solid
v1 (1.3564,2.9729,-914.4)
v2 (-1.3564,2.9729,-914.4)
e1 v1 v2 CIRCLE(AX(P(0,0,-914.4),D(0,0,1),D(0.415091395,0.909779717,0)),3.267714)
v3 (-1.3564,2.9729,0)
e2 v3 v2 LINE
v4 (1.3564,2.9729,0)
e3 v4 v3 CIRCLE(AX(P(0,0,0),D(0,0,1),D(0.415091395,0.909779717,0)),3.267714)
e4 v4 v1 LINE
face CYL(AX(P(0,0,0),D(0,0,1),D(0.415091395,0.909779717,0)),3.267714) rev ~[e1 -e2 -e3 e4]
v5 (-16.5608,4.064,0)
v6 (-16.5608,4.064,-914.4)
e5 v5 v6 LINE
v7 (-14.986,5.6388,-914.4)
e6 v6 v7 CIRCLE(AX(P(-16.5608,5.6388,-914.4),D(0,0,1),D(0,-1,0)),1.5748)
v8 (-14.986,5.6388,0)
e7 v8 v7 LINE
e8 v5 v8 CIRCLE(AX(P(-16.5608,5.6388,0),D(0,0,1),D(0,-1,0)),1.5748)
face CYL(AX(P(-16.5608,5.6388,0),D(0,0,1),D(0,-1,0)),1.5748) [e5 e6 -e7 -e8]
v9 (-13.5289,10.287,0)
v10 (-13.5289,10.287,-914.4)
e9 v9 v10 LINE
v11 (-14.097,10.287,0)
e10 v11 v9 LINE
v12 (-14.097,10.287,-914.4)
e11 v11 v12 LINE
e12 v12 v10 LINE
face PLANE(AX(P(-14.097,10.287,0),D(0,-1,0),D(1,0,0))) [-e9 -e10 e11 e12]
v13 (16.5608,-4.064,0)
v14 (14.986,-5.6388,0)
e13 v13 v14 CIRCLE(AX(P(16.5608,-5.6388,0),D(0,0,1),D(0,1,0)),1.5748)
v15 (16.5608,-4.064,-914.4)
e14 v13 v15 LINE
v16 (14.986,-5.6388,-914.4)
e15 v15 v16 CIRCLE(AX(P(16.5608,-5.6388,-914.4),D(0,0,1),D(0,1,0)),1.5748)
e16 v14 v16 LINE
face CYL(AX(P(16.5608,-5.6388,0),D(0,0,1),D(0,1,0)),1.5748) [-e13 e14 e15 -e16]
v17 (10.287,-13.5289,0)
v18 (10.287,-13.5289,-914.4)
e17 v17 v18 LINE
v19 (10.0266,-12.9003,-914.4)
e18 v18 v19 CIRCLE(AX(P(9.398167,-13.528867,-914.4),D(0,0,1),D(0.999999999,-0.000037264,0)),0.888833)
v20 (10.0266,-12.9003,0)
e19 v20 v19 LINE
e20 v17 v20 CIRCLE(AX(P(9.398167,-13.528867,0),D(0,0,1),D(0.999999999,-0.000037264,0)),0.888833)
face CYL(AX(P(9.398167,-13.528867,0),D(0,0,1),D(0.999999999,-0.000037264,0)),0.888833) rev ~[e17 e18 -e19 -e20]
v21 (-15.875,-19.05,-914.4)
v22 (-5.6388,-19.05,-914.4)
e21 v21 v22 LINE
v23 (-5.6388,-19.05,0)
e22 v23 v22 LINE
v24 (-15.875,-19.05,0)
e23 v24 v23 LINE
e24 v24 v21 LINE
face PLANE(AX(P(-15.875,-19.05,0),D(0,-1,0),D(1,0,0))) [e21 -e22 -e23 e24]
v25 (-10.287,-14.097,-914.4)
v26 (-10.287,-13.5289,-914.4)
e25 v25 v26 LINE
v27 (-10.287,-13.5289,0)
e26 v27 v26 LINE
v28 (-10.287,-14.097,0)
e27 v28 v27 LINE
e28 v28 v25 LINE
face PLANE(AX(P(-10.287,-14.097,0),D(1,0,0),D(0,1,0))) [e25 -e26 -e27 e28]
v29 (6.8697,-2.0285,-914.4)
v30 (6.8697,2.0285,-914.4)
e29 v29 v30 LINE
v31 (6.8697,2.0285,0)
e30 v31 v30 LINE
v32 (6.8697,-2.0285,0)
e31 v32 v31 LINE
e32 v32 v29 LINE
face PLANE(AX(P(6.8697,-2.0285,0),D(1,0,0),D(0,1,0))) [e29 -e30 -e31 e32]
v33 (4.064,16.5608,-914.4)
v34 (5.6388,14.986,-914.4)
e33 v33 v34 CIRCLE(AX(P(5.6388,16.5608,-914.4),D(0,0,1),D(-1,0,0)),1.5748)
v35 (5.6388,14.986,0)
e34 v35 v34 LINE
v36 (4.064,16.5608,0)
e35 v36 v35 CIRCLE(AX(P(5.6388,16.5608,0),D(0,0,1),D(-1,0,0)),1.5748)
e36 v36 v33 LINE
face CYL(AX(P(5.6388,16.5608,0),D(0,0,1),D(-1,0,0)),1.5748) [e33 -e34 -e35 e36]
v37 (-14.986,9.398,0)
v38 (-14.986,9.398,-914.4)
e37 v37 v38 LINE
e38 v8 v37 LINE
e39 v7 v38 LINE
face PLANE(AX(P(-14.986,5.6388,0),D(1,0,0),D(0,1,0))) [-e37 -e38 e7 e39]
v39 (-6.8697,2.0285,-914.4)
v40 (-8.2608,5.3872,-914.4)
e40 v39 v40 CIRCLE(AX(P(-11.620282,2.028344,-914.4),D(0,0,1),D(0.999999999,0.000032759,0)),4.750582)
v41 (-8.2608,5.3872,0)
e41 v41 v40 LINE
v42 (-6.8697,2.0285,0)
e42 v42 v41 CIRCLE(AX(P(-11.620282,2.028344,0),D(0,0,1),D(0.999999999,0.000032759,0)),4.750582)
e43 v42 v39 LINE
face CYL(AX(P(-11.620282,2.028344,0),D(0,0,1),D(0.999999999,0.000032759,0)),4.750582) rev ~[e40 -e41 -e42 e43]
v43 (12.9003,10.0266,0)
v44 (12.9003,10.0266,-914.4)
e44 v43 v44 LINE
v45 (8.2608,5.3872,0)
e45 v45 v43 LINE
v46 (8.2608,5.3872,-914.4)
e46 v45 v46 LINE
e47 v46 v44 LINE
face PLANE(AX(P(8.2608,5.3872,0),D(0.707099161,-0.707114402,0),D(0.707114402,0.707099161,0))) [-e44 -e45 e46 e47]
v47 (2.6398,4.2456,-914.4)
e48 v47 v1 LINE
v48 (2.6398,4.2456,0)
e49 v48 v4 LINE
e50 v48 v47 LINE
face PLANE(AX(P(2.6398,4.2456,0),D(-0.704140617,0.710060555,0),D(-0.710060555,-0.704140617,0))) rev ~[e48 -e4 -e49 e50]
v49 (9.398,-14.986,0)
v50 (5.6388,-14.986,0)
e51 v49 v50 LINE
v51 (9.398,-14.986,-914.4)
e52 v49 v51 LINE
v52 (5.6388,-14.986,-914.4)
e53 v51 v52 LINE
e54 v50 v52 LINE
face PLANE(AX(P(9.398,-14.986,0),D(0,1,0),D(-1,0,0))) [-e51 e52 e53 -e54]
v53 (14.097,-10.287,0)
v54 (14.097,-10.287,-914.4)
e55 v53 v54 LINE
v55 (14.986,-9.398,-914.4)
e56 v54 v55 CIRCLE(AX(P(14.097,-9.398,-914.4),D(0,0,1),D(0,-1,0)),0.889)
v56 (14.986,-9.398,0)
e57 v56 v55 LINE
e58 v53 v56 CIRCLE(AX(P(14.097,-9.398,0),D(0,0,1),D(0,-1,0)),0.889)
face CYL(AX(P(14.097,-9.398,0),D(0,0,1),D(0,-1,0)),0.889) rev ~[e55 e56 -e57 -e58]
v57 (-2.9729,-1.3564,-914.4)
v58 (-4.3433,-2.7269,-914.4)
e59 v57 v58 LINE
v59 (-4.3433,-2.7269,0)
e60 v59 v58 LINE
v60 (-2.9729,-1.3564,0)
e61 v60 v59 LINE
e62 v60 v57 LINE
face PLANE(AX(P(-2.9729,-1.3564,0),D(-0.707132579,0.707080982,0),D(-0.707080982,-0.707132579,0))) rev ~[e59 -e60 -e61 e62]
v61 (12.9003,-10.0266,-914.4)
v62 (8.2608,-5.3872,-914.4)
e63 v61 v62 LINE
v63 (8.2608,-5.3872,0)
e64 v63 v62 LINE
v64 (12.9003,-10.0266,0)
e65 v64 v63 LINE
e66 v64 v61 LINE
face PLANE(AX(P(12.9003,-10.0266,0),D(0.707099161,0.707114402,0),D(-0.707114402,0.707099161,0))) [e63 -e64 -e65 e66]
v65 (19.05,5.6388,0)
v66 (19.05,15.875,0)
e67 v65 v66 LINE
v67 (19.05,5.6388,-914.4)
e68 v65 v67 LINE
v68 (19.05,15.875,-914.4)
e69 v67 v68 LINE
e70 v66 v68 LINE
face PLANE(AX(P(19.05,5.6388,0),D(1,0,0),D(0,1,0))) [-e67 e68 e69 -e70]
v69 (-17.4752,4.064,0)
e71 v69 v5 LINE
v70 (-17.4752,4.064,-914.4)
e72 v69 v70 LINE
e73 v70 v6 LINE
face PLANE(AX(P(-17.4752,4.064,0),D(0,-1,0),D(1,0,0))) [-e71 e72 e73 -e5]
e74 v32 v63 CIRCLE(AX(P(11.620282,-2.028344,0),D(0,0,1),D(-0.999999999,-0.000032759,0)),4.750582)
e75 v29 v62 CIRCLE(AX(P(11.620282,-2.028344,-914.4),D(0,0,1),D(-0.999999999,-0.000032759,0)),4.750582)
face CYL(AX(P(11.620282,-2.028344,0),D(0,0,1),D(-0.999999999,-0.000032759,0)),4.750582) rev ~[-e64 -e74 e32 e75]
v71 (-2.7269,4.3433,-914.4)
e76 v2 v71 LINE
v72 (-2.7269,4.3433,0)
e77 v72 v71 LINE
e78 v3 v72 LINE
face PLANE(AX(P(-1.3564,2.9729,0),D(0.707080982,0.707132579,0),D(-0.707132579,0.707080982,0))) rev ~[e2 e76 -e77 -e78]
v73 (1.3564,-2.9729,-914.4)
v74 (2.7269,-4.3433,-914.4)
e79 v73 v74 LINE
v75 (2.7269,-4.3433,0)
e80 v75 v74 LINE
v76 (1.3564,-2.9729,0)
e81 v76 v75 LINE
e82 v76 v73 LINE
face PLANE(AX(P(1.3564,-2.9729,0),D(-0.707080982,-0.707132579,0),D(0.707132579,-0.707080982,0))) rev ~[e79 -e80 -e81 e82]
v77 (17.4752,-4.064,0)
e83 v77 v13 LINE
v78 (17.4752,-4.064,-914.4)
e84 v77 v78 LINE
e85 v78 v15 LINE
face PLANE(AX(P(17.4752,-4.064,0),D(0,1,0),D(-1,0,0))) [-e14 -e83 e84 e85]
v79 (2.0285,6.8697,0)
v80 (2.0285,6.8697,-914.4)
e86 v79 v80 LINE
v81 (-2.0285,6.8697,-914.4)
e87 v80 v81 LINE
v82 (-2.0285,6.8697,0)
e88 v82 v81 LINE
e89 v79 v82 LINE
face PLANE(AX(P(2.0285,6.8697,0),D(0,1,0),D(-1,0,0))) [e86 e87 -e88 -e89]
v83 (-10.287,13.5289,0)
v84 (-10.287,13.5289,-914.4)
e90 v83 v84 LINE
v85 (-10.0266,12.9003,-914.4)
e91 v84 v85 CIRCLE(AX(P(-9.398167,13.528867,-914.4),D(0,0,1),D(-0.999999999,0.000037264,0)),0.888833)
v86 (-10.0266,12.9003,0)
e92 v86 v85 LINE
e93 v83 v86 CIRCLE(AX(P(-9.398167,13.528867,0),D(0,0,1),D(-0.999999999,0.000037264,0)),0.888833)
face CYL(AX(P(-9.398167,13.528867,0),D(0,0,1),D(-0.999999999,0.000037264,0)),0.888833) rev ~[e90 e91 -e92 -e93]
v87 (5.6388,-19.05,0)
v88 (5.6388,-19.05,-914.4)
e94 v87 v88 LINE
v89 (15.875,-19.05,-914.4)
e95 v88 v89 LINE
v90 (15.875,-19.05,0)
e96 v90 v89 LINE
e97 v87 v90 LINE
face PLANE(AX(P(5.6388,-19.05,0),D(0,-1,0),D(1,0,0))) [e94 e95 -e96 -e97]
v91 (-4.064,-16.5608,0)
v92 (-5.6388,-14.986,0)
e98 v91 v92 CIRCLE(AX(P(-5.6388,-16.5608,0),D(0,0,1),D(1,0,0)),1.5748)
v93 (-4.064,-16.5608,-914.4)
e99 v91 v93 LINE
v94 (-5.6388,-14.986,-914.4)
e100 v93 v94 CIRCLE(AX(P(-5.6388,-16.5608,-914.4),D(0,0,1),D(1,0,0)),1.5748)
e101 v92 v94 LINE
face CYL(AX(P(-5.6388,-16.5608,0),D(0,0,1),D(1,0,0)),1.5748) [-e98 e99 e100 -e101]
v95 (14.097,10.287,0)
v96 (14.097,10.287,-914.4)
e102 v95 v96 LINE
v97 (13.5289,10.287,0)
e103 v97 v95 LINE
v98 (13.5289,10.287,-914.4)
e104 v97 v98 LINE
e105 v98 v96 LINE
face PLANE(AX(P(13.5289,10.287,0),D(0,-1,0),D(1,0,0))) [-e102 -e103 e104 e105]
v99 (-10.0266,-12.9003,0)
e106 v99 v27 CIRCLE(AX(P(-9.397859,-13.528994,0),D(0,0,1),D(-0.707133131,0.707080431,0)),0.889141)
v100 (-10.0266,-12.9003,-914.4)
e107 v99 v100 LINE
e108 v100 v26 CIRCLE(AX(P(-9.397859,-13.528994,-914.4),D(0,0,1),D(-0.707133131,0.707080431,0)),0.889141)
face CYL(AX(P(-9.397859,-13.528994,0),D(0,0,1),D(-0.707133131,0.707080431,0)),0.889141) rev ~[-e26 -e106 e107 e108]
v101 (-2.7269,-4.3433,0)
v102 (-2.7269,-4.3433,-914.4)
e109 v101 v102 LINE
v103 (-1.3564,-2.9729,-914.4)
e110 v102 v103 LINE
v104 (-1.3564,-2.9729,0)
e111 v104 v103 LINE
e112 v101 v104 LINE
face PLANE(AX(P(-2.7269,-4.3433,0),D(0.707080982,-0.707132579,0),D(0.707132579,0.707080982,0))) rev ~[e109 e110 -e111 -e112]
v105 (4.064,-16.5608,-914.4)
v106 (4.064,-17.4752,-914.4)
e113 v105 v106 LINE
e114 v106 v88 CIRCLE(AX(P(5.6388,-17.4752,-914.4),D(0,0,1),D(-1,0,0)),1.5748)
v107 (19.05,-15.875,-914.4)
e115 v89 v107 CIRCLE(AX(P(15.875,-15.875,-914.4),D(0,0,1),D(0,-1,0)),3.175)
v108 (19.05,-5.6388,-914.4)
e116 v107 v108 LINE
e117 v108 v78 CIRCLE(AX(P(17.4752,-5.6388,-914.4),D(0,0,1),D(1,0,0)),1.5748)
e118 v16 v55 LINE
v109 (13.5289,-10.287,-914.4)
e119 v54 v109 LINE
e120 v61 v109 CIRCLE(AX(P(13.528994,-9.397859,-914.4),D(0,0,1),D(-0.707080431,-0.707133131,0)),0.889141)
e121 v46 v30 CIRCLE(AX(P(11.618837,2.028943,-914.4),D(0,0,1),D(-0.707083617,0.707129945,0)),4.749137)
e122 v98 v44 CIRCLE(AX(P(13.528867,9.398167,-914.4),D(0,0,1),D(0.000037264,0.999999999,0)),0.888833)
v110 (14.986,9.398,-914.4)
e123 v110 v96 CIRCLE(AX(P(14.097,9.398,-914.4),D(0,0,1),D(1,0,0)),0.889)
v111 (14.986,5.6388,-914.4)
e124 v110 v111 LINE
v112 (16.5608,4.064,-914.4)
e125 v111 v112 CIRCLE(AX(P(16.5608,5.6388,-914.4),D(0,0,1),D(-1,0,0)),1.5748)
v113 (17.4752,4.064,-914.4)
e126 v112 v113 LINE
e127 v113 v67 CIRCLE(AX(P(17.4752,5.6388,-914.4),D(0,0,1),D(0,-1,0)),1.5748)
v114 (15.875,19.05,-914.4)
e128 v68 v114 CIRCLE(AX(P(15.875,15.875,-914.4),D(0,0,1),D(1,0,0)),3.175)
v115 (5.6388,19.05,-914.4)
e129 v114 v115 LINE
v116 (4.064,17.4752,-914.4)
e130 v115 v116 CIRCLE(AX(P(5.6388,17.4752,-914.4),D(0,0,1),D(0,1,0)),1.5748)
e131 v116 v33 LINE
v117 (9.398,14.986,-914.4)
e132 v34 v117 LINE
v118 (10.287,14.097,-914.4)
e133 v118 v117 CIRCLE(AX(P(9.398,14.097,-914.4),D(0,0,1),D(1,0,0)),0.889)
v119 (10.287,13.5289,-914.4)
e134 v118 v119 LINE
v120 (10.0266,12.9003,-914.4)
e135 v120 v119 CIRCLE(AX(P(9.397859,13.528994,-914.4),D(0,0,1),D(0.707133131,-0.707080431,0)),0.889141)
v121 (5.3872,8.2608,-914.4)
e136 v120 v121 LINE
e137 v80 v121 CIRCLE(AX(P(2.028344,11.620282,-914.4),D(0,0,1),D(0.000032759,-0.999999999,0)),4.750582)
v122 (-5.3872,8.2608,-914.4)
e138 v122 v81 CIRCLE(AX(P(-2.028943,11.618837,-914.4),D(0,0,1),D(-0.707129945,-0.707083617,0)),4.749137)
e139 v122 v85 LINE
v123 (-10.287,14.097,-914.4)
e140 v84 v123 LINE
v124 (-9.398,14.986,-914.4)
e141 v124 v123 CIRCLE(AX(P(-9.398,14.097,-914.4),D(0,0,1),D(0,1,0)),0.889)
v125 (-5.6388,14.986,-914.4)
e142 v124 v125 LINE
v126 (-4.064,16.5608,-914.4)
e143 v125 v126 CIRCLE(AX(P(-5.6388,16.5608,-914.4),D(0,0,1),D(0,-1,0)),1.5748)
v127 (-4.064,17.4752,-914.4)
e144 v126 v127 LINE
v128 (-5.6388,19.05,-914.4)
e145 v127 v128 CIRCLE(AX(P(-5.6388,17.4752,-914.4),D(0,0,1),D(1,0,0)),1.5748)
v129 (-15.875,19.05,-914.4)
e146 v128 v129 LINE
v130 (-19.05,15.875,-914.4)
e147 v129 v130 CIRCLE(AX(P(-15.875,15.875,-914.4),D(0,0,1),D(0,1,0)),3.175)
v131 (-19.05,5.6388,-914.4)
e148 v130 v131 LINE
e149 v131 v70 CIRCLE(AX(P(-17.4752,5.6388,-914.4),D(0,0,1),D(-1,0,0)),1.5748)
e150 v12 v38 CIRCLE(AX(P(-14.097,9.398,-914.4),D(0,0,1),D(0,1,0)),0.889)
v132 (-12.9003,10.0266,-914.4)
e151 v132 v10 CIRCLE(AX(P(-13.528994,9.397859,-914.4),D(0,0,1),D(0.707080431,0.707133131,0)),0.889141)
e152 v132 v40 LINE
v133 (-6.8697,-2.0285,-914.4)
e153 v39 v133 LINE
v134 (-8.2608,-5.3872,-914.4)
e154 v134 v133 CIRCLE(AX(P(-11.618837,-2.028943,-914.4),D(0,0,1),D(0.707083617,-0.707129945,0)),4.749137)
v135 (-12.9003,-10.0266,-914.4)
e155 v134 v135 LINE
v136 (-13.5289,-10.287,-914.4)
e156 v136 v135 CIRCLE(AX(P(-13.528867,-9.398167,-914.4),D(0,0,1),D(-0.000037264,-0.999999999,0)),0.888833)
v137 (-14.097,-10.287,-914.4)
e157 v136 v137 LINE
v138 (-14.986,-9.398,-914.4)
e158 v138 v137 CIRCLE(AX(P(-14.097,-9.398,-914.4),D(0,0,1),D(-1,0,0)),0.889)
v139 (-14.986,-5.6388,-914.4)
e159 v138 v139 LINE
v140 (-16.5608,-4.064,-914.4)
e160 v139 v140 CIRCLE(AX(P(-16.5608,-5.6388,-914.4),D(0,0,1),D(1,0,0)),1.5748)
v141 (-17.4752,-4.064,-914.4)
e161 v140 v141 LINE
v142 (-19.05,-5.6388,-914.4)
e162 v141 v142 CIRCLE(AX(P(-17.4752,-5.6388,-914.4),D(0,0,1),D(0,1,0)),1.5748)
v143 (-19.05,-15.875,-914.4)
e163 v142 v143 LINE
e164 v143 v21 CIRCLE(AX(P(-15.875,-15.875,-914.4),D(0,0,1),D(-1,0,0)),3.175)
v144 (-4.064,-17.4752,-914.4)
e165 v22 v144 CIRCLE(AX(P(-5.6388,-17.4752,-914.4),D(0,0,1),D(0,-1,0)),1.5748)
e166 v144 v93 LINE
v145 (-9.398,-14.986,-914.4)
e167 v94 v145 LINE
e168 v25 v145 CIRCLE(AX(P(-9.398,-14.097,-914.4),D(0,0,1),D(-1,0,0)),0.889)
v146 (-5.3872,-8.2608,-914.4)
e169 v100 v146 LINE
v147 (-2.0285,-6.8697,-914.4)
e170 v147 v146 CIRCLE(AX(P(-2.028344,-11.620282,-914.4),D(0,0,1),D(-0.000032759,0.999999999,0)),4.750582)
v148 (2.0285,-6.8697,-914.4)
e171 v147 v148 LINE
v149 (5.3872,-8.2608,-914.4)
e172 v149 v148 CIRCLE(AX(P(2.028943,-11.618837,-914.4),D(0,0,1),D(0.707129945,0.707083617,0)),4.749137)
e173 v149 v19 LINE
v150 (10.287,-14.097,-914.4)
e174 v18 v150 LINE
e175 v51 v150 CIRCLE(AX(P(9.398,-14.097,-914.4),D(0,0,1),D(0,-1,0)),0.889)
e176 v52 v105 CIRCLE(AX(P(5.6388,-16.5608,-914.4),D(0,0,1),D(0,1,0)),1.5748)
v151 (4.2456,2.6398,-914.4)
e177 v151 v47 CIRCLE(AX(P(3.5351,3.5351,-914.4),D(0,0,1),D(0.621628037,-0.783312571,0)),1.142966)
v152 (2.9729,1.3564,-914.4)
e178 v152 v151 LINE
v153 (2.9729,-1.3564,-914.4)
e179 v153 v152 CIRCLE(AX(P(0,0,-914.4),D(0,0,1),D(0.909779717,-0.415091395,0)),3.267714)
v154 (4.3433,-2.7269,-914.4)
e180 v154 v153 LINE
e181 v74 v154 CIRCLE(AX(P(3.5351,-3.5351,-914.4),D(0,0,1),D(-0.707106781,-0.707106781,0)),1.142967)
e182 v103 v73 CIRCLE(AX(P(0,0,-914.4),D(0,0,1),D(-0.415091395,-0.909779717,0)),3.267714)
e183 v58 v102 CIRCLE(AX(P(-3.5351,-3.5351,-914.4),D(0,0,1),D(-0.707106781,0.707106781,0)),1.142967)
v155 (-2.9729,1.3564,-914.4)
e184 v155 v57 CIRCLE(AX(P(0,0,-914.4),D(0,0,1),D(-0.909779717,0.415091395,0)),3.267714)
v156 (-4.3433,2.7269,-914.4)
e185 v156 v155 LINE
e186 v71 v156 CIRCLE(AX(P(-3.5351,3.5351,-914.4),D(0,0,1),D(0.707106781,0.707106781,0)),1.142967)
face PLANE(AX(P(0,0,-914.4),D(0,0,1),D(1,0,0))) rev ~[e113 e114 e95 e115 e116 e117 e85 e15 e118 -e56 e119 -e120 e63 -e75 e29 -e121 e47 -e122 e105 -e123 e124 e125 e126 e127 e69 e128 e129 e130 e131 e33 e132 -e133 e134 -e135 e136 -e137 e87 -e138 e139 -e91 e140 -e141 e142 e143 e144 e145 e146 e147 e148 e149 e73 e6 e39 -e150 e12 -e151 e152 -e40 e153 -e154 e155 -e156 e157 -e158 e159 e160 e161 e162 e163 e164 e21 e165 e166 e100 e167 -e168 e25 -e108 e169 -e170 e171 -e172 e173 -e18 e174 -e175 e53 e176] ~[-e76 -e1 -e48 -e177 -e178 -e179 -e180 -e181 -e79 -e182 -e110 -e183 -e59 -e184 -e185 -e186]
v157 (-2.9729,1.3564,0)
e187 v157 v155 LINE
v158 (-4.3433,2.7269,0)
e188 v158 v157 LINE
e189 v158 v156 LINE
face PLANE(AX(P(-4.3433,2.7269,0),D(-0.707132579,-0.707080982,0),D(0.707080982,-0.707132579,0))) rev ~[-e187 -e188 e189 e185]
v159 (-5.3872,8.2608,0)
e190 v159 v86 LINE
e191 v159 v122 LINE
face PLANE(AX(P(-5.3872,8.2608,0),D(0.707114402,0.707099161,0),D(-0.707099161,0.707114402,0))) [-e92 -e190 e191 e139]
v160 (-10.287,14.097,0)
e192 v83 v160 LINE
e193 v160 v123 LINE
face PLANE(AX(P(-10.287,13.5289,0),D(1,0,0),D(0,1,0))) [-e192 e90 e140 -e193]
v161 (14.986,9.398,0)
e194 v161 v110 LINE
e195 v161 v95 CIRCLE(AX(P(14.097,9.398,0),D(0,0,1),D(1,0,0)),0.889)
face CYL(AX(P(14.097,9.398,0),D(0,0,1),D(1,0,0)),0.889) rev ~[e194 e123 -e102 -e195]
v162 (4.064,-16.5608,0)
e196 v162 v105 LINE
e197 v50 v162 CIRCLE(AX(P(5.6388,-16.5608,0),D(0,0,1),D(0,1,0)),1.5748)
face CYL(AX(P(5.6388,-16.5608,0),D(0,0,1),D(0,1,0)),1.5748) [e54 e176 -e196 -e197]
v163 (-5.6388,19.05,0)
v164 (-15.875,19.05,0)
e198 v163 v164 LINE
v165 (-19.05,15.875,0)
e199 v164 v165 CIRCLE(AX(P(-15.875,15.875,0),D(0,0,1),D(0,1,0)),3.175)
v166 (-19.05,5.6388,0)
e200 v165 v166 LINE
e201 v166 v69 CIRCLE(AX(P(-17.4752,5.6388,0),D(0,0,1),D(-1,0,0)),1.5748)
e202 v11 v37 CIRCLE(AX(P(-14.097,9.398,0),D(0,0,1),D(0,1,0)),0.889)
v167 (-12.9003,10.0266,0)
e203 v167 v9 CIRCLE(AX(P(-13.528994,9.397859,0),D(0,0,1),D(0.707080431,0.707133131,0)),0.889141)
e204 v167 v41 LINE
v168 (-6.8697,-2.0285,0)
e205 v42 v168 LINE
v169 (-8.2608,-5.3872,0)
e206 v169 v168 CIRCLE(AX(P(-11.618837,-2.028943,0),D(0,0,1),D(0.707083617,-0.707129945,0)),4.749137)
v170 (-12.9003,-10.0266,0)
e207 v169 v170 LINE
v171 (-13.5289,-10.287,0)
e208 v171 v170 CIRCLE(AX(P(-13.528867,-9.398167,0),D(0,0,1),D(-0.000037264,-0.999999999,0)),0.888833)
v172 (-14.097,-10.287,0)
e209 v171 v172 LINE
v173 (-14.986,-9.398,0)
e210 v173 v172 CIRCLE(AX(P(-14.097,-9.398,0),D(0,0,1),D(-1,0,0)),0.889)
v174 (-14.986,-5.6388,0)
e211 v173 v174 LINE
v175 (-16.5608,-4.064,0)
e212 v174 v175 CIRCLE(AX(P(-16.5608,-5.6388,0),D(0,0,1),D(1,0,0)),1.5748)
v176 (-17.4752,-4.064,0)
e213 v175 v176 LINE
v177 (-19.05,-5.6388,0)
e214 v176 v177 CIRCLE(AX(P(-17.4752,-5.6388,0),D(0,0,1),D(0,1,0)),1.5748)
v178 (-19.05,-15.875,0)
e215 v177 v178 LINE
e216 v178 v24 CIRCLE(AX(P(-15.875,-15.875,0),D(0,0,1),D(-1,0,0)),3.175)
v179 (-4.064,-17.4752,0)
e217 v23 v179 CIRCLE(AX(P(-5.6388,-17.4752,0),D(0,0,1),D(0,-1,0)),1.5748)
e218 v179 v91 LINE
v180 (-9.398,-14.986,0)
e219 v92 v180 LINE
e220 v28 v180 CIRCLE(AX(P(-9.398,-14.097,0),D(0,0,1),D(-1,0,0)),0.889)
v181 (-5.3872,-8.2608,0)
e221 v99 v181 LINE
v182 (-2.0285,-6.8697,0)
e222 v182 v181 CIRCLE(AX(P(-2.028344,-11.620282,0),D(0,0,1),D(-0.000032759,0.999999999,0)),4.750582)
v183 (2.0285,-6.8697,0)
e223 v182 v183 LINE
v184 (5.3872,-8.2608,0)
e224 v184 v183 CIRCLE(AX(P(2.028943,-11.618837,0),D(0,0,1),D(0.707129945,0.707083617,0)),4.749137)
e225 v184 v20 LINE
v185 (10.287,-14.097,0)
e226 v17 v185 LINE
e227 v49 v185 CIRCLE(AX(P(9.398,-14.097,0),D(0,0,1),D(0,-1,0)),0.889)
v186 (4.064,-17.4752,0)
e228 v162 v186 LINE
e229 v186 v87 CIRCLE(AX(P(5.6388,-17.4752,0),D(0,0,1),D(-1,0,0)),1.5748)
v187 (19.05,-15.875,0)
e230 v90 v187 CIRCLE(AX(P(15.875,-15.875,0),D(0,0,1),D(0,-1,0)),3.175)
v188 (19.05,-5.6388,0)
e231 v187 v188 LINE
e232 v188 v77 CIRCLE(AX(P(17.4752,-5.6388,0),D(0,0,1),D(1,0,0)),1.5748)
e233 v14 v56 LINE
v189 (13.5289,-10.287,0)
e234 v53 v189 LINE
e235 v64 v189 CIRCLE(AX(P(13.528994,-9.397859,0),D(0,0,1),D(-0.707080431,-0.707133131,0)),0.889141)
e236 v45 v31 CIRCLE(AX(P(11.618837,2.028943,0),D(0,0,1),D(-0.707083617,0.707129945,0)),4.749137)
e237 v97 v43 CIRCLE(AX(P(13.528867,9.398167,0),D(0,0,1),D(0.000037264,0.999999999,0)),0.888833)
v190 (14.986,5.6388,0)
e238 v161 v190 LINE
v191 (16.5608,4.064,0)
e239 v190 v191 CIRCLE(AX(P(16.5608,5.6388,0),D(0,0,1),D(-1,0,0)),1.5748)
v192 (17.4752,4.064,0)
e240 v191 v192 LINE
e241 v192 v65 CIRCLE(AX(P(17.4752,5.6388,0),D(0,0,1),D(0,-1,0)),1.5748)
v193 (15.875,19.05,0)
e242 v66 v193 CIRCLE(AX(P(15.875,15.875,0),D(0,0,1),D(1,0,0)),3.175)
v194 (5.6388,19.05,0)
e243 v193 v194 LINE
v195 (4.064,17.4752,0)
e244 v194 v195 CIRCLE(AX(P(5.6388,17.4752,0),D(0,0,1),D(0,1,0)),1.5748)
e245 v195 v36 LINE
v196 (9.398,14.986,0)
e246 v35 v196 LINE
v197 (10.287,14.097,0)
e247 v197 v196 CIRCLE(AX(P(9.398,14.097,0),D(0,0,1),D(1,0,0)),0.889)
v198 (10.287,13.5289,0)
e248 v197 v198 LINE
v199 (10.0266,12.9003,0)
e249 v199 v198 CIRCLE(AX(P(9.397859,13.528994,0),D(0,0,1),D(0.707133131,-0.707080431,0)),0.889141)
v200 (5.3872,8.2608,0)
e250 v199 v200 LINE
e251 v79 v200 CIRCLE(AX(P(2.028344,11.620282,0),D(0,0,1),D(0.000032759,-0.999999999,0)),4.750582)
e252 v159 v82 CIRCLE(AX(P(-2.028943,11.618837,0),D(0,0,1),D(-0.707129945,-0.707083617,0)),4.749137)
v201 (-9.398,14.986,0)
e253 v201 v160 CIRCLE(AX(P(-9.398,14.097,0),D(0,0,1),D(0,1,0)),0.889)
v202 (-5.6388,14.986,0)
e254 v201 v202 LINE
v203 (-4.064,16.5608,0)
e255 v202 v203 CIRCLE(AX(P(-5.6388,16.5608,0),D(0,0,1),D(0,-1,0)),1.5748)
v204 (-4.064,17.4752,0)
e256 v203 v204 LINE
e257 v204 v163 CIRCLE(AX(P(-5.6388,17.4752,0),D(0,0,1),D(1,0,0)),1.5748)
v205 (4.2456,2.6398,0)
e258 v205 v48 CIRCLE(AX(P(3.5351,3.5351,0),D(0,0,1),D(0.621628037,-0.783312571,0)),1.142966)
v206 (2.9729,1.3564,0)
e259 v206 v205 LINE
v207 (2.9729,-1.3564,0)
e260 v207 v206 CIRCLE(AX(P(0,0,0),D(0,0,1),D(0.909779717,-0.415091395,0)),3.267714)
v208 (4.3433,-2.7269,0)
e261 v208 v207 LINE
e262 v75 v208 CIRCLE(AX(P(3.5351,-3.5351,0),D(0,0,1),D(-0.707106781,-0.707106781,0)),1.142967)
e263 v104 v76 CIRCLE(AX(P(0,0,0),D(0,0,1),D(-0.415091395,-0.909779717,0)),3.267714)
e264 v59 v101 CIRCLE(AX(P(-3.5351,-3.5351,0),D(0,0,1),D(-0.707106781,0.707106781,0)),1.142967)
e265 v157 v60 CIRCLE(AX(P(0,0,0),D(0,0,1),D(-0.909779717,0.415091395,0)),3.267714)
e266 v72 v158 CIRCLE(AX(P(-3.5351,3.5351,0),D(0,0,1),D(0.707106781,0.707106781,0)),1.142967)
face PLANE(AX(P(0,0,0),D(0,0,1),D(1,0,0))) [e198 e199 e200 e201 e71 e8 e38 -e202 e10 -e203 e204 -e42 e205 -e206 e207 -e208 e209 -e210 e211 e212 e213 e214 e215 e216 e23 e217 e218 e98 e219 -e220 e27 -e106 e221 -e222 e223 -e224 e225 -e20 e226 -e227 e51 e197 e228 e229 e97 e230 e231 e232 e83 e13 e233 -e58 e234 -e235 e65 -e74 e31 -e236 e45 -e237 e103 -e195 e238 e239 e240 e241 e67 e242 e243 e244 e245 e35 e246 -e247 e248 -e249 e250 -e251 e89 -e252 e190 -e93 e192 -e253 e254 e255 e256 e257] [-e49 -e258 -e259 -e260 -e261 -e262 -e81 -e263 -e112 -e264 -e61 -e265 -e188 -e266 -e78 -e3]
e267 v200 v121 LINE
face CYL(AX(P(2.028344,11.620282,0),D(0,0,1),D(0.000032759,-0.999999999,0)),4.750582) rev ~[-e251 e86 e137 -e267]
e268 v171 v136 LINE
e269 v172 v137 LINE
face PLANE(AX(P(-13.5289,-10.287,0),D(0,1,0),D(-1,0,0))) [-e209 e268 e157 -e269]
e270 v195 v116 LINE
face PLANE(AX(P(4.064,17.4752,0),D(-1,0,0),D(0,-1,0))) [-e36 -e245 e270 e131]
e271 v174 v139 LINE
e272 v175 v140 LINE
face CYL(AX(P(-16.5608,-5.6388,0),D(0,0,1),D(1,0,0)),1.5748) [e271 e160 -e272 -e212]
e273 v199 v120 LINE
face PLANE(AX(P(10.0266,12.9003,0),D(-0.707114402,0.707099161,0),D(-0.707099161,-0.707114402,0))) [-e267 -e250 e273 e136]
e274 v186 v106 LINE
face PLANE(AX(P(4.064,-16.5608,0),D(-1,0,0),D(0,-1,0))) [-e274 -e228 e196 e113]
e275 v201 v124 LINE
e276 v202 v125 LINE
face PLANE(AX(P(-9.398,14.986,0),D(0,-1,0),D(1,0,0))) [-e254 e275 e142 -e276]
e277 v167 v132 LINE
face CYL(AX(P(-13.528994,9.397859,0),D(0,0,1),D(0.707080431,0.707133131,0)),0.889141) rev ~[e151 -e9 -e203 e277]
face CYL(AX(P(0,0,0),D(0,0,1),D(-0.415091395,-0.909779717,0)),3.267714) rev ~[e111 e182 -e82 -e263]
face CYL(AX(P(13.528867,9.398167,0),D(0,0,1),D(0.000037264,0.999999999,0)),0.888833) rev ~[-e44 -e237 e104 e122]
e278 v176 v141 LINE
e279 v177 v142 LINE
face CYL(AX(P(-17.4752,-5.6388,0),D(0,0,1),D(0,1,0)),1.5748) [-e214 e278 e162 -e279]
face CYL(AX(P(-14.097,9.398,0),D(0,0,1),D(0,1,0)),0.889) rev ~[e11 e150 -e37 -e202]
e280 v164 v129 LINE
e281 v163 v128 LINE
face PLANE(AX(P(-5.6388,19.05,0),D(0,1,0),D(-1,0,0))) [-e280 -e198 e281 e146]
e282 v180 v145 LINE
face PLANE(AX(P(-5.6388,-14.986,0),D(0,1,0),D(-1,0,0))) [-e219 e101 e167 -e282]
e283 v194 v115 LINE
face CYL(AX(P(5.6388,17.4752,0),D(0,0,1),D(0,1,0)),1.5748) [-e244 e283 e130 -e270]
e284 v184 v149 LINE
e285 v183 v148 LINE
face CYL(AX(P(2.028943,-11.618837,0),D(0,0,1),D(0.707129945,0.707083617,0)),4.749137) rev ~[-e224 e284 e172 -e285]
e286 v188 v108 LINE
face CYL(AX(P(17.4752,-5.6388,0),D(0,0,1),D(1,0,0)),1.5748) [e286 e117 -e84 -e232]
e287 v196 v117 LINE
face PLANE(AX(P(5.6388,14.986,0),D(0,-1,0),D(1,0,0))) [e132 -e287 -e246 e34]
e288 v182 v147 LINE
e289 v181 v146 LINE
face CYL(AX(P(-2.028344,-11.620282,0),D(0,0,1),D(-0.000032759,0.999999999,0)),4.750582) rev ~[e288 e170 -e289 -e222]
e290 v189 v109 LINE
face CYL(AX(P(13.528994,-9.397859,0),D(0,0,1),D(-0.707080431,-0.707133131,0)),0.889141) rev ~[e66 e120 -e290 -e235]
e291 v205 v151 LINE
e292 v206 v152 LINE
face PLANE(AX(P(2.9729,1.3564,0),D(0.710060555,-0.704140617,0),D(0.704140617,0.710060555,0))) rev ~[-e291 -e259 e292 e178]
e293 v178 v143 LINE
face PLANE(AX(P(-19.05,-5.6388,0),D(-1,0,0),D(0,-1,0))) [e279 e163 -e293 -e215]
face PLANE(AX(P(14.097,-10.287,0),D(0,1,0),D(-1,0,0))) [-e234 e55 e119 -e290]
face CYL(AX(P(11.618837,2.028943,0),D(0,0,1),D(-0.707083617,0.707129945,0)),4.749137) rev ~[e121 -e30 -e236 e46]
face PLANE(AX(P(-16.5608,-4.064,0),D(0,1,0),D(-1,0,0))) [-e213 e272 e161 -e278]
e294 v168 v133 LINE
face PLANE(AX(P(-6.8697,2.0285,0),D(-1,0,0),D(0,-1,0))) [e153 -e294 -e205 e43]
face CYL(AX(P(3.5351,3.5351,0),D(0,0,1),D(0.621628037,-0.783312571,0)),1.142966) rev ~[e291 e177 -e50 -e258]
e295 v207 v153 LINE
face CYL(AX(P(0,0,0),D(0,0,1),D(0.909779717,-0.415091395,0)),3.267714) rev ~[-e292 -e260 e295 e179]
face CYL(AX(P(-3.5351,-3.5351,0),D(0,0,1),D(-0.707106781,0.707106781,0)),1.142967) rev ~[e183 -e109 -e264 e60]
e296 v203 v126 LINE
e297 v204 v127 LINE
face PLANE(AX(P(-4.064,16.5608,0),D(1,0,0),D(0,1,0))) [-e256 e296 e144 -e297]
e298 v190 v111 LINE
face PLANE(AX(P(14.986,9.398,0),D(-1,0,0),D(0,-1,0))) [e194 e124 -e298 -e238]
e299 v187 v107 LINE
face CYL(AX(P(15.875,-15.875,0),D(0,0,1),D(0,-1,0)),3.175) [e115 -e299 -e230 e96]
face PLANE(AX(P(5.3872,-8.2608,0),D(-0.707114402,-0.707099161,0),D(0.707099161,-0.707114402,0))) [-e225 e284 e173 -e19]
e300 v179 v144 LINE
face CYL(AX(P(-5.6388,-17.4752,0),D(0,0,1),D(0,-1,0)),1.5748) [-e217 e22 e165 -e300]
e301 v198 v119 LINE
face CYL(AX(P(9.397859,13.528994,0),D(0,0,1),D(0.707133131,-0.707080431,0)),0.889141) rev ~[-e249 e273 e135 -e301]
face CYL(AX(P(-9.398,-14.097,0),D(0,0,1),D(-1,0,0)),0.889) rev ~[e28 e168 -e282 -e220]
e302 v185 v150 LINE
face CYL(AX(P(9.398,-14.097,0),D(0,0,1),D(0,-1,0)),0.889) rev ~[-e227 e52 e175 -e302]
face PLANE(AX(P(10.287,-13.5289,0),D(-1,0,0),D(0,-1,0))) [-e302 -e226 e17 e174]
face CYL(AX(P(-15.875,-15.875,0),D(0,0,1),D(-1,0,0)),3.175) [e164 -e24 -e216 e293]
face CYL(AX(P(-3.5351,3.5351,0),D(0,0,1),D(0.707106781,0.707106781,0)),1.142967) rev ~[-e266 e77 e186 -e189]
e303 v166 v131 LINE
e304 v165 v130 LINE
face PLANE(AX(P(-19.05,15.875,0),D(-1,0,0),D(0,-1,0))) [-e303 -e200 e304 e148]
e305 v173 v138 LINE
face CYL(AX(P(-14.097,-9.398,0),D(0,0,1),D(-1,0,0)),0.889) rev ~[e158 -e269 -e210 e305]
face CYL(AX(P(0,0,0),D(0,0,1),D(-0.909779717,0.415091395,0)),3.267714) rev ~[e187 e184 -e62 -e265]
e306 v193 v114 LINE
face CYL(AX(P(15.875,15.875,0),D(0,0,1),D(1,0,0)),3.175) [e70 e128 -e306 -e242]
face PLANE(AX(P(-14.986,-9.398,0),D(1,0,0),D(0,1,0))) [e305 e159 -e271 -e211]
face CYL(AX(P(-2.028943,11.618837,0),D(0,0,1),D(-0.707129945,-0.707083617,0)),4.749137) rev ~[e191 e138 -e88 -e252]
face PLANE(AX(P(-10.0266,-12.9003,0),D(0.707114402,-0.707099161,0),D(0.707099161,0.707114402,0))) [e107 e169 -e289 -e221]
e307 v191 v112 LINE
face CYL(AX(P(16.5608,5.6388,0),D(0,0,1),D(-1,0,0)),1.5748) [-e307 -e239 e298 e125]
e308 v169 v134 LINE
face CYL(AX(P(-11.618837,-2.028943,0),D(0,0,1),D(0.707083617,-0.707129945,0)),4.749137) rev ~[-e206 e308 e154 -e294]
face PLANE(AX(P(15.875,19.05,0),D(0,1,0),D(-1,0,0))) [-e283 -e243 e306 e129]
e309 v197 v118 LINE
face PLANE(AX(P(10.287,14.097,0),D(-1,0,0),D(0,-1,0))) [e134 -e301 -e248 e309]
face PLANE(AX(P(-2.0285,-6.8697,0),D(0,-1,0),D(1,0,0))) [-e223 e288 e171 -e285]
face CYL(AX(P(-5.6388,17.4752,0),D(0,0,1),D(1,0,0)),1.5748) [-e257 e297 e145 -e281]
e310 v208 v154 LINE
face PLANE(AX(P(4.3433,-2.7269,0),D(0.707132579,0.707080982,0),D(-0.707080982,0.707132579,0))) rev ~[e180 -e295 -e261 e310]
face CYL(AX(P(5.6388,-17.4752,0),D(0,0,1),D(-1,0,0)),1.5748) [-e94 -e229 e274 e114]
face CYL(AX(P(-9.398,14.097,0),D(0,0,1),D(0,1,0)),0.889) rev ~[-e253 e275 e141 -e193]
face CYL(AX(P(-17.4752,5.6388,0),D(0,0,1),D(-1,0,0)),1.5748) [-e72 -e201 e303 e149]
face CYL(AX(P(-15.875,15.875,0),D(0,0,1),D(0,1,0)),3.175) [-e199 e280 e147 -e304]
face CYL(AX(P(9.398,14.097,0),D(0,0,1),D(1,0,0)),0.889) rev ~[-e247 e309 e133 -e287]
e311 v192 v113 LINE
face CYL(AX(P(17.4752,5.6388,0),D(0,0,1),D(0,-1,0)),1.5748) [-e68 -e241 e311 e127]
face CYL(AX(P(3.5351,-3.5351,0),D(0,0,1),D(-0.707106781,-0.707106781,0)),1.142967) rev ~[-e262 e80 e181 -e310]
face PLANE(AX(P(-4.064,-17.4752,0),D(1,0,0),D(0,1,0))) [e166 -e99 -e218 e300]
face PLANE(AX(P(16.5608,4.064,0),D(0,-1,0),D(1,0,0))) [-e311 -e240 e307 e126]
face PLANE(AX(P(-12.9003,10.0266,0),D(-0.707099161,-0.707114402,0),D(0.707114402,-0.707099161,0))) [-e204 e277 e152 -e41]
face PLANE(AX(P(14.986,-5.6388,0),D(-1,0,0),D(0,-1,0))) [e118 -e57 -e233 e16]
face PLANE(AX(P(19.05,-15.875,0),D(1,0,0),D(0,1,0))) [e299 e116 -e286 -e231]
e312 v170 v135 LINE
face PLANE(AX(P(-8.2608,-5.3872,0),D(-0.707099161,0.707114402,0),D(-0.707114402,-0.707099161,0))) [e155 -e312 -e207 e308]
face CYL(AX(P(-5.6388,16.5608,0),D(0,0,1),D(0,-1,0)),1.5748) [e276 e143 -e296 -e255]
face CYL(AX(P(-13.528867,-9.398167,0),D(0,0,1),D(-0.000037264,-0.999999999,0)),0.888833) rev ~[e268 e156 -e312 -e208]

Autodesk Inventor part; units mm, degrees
ref_plane "YZ Plane" through (0, 0, 0) normal (1, 0, 0) x (0, 1, 0)
ref_plane "XZ Plane" through (0, 0, 0) normal (0, 1, 0) x (-1, 0, 0)
ref_plane "Work Plane1" through (-293.8098, -15.875, -838.2) normal (0, 0, 1) x (1, 0, 0)
sketch "Sketch1" plane through (0, 0, 0) normal (0, 0, 1) x (1, 0, 0)
  arc A0 (4.2456, 2.6398) -> (2.6398, 4.2456) centre (3.5351, 3.5351) ccw
  line L0 (2.9729, 1.3564) -> (4.2456, 2.6398)
  arc A1 (2.9729, -1.3564) -> (2.9729, 1.3564) centre (0, 0) ccw
  line L1 (4.3433, -2.7269) -> (2.9729, -1.3564)
  arc A2 (2.7269, -4.3433) -> (4.3433, -2.7269) centre (3.5351, -3.5351) ccw
  line L2 (1.3564, -2.9729) -> (2.7269, -4.3433)
  arc A3 (-1.3564, -2.9729) -> (1.3564, -2.9729) centre (0, 0) ccw
  line L3 (-2.7269, -4.3433) -> (-1.3564, -2.9729)
  arc A4 (-4.3433, -2.7269) -> (-2.7269, -4.3433) centre (-3.5351, -3.5351) ccw
  line L4 (-2.9729, -1.3564) -> (-4.3433, -2.7269)
  arc A5 (-2.9729, 1.3564) -> (-2.9729, -1.3564) centre (0, 0) ccw
  line L5 (-4.3433, 2.7269) -> (-2.9729, 1.3564)
  arc A6 (-2.7269, 4.3433) -> (-4.3433, 2.7269) centre (-3.5351, 3.5351) ccw
  line L6 (-1.3564, 2.9729) -> (-2.7269, 4.3433)
  arc A7 (1.3564, 2.9729) -> (-1.3564, 2.9729) centre (0, 0) ccw
  line L7 (2.6398, 4.2456) -> (1.3564, 2.9729)
  arc A8 (16.5608, -4.064) -> (14.986, -5.6388) centre (16.5608, -5.6388) ccw
  line L8 (14.986, -5.6388) -> (14.986, -9.398)
  arc A9 (14.097, -10.287) -> (14.986, -9.398) centre (14.097, -9.398) ccw
  line L9 (14.097, -10.287) -> (13.5289, -10.287)
  arc A10 (12.9003, -10.0266) -> (13.5289, -10.287) centre (13.5289, -9.398) ccw
  line L10 (12.9003, -10.0266) -> (8.2608, -5.3872)
  arc A11 (6.8697, -2.0285) -> (8.2608, -5.3872) centre (11.6195, -2.0285) ccw
  line L11 (6.8697, -2.0285) -> (6.8697, 2.0285)
  arc A12 (8.2608, 5.3872) -> (6.8697, 2.0285) centre (11.6195, 2.0285) ccw
  line L12 (8.2608, 5.3872) -> (12.9003, 10.0266)
  arc A13 (13.5289, 10.287) -> (12.9003, 10.0266) centre (13.5289, 9.398) ccw
  line L13 (13.5289, 10.287) -> (14.097, 10.287)
  arc A14 (14.986, 9.398) -> (14.097, 10.287) centre (14.097, 9.398) ccw
  line L14 (14.986, 9.398) -> (14.986, 5.6388)
  arc A15 (14.986, 5.6388) -> (16.5608, 4.064) centre (16.5608, 5.6388) ccw
  line L15 (16.5608, 4.064) -> (17.4752, 4.064)
  arc A16 (17.4752, 4.064) -> (19.05, 5.6388) centre (17.4752, 5.6388) ccw
  line L16 (19.05, 5.6388) -> (19.05, 15.875)
  arc A17 (19.05, 15.875) -> (15.875, 19.05) centre (15.875, 15.875) ccw
  line L17 (15.875, 19.05) -> (5.6388, 19.05)
  arc A18 (5.6388, 19.05) -> (4.064, 17.4752) centre (5.6388, 17.4752) ccw
  line L18 (4.064, 17.4752) -> (4.064, 16.5608)
  arc A19 (4.064, 16.5608) -> (5.6388, 14.986) centre (5.6388, 16.5608) ccw
  line L19 (5.6388, 14.986) -> (9.398, 14.986)
  arc A20 (10.287, 14.097) -> (9.398, 14.986) centre (9.398, 14.097) ccw
  line L20 (10.287, 14.097) -> (10.287, 13.5289)
  arc A21 (10.0266, 12.9003) -> (10.287, 13.5289) centre (9.398, 13.5289) ccw
  line L21 (10.0266, 12.9003) -> (5.3872, 8.2608)
  arc A22 (2.0285, 6.8697) -> (5.3872, 8.2608) centre (2.0285, 11.6195) ccw
  line L22 (2.0285, 6.8697) -> (-2.0285, 6.8697)
  arc A23 (-5.3872, 8.2608) -> (-2.0285, 6.8697) centre (-2.0285, 11.6195) ccw
  line L23 (-5.3872, 8.2608) -> (-10.0266, 12.9003)
  arc A24 (-10.287, 13.5289) -> (-10.0266, 12.9003) centre (-9.398, 13.5289) ccw
  line L24 (-10.287, 13.5289) -> (-10.287, 14.097)
  arc A25 (-9.398, 14.986) -> (-10.287, 14.097) centre (-9.398, 14.097) ccw
  line L25 (-9.398, 14.986) -> (-5.6388, 14.986)
  arc A26 (-5.6388, 14.986) -> (-4.064, 16.5608) centre (-5.6388, 16.5608) ccw
  line L26 (-4.064, 16.5608) -> (-4.064, 17.4752)
  arc A27 (-4.064, 17.4752) -> (-5.6388, 19.05) centre (-5.6388, 17.4752) ccw
  line L27 (-5.6388, 19.05) -> (-15.875, 19.05)
  arc A28 (-15.875, 19.05) -> (-19.05, 15.875) centre (-15.875, 15.875) ccw
  line L28 (-19.05, 15.875) -> (-19.05, 5.6388)
  arc A29 (-19.05, 5.6388) -> (-17.4752, 4.064) centre (-17.4752, 5.6388) ccw
  line L29 (-17.4752, 4.064) -> (-16.5608, 4.064)
  arc A30 (-16.5608, 4.064) -> (-14.986, 5.6388) centre (-16.5608, 5.6388) ccw
  line L30 (-14.986, 5.6388) -> (-14.986, 9.398)
  arc A31 (-14.097, 10.287) -> (-14.986, 9.398) centre (-14.097, 9.398) ccw
  line L31 (-14.097, 10.287) -> (-13.5289, 10.287)
  arc A32 (-12.9003, 10.0266) -> (-13.5289, 10.287) centre (-13.5289, 9.398) ccw
  line L32 (-12.9003, 10.0266) -> (-8.2608, 5.3872)
  arc A33 (-6.8697, 2.0285) -> (-8.2608, 5.3872) centre (-11.6195, 2.0285) ccw
  line L33 (-6.8697, 2.0285) -> (-6.8697, -2.0285)
  arc A34 (-8.2608, -5.3872) -> (-6.8697, -2.0285) centre (-11.6195, -2.0285) ccw
  line L34 (-8.2608, -5.3872) -> (-12.9003, -10.0266)
  arc A35 (-13.5289, -10.287) -> (-12.9003, -10.0266) centre (-13.5289, -9.398) ccw
  line L35 (-13.5289, -10.287) -> (-14.097, -10.287)
  arc A36 (-14.986, -9.398) -> (-14.097, -10.287) centre (-14.097, -9.398) ccw
  line L36 (-14.986, -9.398) -> (-14.986, -5.6388)
  arc A37 (-14.986, -5.6388) -> (-16.5608, -4.064) centre (-16.5608, -5.6388) ccw
  line L37 (-16.5608, -4.064) -> (-17.4752, -4.064)
  arc A38 (-17.4752, -4.064) -> (-19.05, -5.6388) centre (-17.4752, -5.6388) ccw
  line L38 (-19.05, -5.6388) -> (-19.05, -15.875)
  arc A39 (-19.05, -15.875) -> (-15.875, -19.05) centre (-15.875, -15.875) ccw
  line L39 (-15.875, -19.05) -> (-5.6388, -19.05)
  arc A40 (-5.6388, -19.05) -> (-4.064, -17.4752) centre (-5.6388, -17.4752) ccw
  line L40 (-4.064, -17.4752) -> (-4.064, -16.5608)
  arc A41 (-4.064, -16.5608) -> (-5.6388, -14.986) centre (-5.6388, -16.5608) ccw
  line L41 (-5.6388, -14.986) -> (-9.398, -14.986)
  arc A42 (-10.287, -14.097) -> (-9.398, -14.986) centre (-9.398, -14.097) ccw
  line L42 (-10.287, -14.097) -> (-10.287, -13.5289)
  arc A43 (-10.0266, -12.9003) -> (-10.287, -13.5289) centre (-9.398, -13.5289) ccw
  line L43 (-10.0266, -12.9003) -> (-5.3872, -8.2608)
  arc A44 (-2.0285, -6.8697) -> (-5.3872, -8.2608) centre (-2.0285, -11.6195) ccw
  line L44 (-2.0285, -6.8697) -> (2.0285, -6.8697)
  arc A45 (5.3872, -8.2608) -> (2.0285, -6.8697) centre (2.0285, -11.6195) ccw
  line L45 (5.3872, -8.2608) -> (10.0266, -12.9003)
  arc A46 (10.287, -13.5289) -> (10.0266, -12.9003) centre (9.398, -13.5289) ccw
  line L46 (10.287, -13.5289) -> (10.287, -14.097)
  arc A47 (9.398, -14.986) -> (10.287, -14.097) centre (9.398, -14.097) ccw
  line L47 (9.398, -14.986) -> (5.6388, -14.986)
  arc A48 (5.6388, -14.986) -> (4.064, -16.5608) centre (5.6388, -16.5608) ccw
  line L48 (4.064, -16.5608) -> (4.064, -17.4752)
  arc A49 (4.064, -17.4752) -> (5.6388, -19.05) centre (5.6388, -17.4752) ccw
  line L49 (5.6388, -19.05) -> (15.875, -19.05)
  arc A50 (15.875, -19.05) -> (19.05, -15.875) centre (15.875, -15.875) ccw
  line L50 (19.05, -15.875) -> (19.05, -5.6388)
  arc A51 (19.05, -5.6388) -> (17.4752, -4.064) centre (17.4752, -5.6388) ccw
  line L51 (17.4752, -4.064) -> (16.5608, -4.064)
extrude "Extrusion1" add sketch "Sketch1" against normal blind 914.4
properties part number "1515-S" material "Aluminum"
